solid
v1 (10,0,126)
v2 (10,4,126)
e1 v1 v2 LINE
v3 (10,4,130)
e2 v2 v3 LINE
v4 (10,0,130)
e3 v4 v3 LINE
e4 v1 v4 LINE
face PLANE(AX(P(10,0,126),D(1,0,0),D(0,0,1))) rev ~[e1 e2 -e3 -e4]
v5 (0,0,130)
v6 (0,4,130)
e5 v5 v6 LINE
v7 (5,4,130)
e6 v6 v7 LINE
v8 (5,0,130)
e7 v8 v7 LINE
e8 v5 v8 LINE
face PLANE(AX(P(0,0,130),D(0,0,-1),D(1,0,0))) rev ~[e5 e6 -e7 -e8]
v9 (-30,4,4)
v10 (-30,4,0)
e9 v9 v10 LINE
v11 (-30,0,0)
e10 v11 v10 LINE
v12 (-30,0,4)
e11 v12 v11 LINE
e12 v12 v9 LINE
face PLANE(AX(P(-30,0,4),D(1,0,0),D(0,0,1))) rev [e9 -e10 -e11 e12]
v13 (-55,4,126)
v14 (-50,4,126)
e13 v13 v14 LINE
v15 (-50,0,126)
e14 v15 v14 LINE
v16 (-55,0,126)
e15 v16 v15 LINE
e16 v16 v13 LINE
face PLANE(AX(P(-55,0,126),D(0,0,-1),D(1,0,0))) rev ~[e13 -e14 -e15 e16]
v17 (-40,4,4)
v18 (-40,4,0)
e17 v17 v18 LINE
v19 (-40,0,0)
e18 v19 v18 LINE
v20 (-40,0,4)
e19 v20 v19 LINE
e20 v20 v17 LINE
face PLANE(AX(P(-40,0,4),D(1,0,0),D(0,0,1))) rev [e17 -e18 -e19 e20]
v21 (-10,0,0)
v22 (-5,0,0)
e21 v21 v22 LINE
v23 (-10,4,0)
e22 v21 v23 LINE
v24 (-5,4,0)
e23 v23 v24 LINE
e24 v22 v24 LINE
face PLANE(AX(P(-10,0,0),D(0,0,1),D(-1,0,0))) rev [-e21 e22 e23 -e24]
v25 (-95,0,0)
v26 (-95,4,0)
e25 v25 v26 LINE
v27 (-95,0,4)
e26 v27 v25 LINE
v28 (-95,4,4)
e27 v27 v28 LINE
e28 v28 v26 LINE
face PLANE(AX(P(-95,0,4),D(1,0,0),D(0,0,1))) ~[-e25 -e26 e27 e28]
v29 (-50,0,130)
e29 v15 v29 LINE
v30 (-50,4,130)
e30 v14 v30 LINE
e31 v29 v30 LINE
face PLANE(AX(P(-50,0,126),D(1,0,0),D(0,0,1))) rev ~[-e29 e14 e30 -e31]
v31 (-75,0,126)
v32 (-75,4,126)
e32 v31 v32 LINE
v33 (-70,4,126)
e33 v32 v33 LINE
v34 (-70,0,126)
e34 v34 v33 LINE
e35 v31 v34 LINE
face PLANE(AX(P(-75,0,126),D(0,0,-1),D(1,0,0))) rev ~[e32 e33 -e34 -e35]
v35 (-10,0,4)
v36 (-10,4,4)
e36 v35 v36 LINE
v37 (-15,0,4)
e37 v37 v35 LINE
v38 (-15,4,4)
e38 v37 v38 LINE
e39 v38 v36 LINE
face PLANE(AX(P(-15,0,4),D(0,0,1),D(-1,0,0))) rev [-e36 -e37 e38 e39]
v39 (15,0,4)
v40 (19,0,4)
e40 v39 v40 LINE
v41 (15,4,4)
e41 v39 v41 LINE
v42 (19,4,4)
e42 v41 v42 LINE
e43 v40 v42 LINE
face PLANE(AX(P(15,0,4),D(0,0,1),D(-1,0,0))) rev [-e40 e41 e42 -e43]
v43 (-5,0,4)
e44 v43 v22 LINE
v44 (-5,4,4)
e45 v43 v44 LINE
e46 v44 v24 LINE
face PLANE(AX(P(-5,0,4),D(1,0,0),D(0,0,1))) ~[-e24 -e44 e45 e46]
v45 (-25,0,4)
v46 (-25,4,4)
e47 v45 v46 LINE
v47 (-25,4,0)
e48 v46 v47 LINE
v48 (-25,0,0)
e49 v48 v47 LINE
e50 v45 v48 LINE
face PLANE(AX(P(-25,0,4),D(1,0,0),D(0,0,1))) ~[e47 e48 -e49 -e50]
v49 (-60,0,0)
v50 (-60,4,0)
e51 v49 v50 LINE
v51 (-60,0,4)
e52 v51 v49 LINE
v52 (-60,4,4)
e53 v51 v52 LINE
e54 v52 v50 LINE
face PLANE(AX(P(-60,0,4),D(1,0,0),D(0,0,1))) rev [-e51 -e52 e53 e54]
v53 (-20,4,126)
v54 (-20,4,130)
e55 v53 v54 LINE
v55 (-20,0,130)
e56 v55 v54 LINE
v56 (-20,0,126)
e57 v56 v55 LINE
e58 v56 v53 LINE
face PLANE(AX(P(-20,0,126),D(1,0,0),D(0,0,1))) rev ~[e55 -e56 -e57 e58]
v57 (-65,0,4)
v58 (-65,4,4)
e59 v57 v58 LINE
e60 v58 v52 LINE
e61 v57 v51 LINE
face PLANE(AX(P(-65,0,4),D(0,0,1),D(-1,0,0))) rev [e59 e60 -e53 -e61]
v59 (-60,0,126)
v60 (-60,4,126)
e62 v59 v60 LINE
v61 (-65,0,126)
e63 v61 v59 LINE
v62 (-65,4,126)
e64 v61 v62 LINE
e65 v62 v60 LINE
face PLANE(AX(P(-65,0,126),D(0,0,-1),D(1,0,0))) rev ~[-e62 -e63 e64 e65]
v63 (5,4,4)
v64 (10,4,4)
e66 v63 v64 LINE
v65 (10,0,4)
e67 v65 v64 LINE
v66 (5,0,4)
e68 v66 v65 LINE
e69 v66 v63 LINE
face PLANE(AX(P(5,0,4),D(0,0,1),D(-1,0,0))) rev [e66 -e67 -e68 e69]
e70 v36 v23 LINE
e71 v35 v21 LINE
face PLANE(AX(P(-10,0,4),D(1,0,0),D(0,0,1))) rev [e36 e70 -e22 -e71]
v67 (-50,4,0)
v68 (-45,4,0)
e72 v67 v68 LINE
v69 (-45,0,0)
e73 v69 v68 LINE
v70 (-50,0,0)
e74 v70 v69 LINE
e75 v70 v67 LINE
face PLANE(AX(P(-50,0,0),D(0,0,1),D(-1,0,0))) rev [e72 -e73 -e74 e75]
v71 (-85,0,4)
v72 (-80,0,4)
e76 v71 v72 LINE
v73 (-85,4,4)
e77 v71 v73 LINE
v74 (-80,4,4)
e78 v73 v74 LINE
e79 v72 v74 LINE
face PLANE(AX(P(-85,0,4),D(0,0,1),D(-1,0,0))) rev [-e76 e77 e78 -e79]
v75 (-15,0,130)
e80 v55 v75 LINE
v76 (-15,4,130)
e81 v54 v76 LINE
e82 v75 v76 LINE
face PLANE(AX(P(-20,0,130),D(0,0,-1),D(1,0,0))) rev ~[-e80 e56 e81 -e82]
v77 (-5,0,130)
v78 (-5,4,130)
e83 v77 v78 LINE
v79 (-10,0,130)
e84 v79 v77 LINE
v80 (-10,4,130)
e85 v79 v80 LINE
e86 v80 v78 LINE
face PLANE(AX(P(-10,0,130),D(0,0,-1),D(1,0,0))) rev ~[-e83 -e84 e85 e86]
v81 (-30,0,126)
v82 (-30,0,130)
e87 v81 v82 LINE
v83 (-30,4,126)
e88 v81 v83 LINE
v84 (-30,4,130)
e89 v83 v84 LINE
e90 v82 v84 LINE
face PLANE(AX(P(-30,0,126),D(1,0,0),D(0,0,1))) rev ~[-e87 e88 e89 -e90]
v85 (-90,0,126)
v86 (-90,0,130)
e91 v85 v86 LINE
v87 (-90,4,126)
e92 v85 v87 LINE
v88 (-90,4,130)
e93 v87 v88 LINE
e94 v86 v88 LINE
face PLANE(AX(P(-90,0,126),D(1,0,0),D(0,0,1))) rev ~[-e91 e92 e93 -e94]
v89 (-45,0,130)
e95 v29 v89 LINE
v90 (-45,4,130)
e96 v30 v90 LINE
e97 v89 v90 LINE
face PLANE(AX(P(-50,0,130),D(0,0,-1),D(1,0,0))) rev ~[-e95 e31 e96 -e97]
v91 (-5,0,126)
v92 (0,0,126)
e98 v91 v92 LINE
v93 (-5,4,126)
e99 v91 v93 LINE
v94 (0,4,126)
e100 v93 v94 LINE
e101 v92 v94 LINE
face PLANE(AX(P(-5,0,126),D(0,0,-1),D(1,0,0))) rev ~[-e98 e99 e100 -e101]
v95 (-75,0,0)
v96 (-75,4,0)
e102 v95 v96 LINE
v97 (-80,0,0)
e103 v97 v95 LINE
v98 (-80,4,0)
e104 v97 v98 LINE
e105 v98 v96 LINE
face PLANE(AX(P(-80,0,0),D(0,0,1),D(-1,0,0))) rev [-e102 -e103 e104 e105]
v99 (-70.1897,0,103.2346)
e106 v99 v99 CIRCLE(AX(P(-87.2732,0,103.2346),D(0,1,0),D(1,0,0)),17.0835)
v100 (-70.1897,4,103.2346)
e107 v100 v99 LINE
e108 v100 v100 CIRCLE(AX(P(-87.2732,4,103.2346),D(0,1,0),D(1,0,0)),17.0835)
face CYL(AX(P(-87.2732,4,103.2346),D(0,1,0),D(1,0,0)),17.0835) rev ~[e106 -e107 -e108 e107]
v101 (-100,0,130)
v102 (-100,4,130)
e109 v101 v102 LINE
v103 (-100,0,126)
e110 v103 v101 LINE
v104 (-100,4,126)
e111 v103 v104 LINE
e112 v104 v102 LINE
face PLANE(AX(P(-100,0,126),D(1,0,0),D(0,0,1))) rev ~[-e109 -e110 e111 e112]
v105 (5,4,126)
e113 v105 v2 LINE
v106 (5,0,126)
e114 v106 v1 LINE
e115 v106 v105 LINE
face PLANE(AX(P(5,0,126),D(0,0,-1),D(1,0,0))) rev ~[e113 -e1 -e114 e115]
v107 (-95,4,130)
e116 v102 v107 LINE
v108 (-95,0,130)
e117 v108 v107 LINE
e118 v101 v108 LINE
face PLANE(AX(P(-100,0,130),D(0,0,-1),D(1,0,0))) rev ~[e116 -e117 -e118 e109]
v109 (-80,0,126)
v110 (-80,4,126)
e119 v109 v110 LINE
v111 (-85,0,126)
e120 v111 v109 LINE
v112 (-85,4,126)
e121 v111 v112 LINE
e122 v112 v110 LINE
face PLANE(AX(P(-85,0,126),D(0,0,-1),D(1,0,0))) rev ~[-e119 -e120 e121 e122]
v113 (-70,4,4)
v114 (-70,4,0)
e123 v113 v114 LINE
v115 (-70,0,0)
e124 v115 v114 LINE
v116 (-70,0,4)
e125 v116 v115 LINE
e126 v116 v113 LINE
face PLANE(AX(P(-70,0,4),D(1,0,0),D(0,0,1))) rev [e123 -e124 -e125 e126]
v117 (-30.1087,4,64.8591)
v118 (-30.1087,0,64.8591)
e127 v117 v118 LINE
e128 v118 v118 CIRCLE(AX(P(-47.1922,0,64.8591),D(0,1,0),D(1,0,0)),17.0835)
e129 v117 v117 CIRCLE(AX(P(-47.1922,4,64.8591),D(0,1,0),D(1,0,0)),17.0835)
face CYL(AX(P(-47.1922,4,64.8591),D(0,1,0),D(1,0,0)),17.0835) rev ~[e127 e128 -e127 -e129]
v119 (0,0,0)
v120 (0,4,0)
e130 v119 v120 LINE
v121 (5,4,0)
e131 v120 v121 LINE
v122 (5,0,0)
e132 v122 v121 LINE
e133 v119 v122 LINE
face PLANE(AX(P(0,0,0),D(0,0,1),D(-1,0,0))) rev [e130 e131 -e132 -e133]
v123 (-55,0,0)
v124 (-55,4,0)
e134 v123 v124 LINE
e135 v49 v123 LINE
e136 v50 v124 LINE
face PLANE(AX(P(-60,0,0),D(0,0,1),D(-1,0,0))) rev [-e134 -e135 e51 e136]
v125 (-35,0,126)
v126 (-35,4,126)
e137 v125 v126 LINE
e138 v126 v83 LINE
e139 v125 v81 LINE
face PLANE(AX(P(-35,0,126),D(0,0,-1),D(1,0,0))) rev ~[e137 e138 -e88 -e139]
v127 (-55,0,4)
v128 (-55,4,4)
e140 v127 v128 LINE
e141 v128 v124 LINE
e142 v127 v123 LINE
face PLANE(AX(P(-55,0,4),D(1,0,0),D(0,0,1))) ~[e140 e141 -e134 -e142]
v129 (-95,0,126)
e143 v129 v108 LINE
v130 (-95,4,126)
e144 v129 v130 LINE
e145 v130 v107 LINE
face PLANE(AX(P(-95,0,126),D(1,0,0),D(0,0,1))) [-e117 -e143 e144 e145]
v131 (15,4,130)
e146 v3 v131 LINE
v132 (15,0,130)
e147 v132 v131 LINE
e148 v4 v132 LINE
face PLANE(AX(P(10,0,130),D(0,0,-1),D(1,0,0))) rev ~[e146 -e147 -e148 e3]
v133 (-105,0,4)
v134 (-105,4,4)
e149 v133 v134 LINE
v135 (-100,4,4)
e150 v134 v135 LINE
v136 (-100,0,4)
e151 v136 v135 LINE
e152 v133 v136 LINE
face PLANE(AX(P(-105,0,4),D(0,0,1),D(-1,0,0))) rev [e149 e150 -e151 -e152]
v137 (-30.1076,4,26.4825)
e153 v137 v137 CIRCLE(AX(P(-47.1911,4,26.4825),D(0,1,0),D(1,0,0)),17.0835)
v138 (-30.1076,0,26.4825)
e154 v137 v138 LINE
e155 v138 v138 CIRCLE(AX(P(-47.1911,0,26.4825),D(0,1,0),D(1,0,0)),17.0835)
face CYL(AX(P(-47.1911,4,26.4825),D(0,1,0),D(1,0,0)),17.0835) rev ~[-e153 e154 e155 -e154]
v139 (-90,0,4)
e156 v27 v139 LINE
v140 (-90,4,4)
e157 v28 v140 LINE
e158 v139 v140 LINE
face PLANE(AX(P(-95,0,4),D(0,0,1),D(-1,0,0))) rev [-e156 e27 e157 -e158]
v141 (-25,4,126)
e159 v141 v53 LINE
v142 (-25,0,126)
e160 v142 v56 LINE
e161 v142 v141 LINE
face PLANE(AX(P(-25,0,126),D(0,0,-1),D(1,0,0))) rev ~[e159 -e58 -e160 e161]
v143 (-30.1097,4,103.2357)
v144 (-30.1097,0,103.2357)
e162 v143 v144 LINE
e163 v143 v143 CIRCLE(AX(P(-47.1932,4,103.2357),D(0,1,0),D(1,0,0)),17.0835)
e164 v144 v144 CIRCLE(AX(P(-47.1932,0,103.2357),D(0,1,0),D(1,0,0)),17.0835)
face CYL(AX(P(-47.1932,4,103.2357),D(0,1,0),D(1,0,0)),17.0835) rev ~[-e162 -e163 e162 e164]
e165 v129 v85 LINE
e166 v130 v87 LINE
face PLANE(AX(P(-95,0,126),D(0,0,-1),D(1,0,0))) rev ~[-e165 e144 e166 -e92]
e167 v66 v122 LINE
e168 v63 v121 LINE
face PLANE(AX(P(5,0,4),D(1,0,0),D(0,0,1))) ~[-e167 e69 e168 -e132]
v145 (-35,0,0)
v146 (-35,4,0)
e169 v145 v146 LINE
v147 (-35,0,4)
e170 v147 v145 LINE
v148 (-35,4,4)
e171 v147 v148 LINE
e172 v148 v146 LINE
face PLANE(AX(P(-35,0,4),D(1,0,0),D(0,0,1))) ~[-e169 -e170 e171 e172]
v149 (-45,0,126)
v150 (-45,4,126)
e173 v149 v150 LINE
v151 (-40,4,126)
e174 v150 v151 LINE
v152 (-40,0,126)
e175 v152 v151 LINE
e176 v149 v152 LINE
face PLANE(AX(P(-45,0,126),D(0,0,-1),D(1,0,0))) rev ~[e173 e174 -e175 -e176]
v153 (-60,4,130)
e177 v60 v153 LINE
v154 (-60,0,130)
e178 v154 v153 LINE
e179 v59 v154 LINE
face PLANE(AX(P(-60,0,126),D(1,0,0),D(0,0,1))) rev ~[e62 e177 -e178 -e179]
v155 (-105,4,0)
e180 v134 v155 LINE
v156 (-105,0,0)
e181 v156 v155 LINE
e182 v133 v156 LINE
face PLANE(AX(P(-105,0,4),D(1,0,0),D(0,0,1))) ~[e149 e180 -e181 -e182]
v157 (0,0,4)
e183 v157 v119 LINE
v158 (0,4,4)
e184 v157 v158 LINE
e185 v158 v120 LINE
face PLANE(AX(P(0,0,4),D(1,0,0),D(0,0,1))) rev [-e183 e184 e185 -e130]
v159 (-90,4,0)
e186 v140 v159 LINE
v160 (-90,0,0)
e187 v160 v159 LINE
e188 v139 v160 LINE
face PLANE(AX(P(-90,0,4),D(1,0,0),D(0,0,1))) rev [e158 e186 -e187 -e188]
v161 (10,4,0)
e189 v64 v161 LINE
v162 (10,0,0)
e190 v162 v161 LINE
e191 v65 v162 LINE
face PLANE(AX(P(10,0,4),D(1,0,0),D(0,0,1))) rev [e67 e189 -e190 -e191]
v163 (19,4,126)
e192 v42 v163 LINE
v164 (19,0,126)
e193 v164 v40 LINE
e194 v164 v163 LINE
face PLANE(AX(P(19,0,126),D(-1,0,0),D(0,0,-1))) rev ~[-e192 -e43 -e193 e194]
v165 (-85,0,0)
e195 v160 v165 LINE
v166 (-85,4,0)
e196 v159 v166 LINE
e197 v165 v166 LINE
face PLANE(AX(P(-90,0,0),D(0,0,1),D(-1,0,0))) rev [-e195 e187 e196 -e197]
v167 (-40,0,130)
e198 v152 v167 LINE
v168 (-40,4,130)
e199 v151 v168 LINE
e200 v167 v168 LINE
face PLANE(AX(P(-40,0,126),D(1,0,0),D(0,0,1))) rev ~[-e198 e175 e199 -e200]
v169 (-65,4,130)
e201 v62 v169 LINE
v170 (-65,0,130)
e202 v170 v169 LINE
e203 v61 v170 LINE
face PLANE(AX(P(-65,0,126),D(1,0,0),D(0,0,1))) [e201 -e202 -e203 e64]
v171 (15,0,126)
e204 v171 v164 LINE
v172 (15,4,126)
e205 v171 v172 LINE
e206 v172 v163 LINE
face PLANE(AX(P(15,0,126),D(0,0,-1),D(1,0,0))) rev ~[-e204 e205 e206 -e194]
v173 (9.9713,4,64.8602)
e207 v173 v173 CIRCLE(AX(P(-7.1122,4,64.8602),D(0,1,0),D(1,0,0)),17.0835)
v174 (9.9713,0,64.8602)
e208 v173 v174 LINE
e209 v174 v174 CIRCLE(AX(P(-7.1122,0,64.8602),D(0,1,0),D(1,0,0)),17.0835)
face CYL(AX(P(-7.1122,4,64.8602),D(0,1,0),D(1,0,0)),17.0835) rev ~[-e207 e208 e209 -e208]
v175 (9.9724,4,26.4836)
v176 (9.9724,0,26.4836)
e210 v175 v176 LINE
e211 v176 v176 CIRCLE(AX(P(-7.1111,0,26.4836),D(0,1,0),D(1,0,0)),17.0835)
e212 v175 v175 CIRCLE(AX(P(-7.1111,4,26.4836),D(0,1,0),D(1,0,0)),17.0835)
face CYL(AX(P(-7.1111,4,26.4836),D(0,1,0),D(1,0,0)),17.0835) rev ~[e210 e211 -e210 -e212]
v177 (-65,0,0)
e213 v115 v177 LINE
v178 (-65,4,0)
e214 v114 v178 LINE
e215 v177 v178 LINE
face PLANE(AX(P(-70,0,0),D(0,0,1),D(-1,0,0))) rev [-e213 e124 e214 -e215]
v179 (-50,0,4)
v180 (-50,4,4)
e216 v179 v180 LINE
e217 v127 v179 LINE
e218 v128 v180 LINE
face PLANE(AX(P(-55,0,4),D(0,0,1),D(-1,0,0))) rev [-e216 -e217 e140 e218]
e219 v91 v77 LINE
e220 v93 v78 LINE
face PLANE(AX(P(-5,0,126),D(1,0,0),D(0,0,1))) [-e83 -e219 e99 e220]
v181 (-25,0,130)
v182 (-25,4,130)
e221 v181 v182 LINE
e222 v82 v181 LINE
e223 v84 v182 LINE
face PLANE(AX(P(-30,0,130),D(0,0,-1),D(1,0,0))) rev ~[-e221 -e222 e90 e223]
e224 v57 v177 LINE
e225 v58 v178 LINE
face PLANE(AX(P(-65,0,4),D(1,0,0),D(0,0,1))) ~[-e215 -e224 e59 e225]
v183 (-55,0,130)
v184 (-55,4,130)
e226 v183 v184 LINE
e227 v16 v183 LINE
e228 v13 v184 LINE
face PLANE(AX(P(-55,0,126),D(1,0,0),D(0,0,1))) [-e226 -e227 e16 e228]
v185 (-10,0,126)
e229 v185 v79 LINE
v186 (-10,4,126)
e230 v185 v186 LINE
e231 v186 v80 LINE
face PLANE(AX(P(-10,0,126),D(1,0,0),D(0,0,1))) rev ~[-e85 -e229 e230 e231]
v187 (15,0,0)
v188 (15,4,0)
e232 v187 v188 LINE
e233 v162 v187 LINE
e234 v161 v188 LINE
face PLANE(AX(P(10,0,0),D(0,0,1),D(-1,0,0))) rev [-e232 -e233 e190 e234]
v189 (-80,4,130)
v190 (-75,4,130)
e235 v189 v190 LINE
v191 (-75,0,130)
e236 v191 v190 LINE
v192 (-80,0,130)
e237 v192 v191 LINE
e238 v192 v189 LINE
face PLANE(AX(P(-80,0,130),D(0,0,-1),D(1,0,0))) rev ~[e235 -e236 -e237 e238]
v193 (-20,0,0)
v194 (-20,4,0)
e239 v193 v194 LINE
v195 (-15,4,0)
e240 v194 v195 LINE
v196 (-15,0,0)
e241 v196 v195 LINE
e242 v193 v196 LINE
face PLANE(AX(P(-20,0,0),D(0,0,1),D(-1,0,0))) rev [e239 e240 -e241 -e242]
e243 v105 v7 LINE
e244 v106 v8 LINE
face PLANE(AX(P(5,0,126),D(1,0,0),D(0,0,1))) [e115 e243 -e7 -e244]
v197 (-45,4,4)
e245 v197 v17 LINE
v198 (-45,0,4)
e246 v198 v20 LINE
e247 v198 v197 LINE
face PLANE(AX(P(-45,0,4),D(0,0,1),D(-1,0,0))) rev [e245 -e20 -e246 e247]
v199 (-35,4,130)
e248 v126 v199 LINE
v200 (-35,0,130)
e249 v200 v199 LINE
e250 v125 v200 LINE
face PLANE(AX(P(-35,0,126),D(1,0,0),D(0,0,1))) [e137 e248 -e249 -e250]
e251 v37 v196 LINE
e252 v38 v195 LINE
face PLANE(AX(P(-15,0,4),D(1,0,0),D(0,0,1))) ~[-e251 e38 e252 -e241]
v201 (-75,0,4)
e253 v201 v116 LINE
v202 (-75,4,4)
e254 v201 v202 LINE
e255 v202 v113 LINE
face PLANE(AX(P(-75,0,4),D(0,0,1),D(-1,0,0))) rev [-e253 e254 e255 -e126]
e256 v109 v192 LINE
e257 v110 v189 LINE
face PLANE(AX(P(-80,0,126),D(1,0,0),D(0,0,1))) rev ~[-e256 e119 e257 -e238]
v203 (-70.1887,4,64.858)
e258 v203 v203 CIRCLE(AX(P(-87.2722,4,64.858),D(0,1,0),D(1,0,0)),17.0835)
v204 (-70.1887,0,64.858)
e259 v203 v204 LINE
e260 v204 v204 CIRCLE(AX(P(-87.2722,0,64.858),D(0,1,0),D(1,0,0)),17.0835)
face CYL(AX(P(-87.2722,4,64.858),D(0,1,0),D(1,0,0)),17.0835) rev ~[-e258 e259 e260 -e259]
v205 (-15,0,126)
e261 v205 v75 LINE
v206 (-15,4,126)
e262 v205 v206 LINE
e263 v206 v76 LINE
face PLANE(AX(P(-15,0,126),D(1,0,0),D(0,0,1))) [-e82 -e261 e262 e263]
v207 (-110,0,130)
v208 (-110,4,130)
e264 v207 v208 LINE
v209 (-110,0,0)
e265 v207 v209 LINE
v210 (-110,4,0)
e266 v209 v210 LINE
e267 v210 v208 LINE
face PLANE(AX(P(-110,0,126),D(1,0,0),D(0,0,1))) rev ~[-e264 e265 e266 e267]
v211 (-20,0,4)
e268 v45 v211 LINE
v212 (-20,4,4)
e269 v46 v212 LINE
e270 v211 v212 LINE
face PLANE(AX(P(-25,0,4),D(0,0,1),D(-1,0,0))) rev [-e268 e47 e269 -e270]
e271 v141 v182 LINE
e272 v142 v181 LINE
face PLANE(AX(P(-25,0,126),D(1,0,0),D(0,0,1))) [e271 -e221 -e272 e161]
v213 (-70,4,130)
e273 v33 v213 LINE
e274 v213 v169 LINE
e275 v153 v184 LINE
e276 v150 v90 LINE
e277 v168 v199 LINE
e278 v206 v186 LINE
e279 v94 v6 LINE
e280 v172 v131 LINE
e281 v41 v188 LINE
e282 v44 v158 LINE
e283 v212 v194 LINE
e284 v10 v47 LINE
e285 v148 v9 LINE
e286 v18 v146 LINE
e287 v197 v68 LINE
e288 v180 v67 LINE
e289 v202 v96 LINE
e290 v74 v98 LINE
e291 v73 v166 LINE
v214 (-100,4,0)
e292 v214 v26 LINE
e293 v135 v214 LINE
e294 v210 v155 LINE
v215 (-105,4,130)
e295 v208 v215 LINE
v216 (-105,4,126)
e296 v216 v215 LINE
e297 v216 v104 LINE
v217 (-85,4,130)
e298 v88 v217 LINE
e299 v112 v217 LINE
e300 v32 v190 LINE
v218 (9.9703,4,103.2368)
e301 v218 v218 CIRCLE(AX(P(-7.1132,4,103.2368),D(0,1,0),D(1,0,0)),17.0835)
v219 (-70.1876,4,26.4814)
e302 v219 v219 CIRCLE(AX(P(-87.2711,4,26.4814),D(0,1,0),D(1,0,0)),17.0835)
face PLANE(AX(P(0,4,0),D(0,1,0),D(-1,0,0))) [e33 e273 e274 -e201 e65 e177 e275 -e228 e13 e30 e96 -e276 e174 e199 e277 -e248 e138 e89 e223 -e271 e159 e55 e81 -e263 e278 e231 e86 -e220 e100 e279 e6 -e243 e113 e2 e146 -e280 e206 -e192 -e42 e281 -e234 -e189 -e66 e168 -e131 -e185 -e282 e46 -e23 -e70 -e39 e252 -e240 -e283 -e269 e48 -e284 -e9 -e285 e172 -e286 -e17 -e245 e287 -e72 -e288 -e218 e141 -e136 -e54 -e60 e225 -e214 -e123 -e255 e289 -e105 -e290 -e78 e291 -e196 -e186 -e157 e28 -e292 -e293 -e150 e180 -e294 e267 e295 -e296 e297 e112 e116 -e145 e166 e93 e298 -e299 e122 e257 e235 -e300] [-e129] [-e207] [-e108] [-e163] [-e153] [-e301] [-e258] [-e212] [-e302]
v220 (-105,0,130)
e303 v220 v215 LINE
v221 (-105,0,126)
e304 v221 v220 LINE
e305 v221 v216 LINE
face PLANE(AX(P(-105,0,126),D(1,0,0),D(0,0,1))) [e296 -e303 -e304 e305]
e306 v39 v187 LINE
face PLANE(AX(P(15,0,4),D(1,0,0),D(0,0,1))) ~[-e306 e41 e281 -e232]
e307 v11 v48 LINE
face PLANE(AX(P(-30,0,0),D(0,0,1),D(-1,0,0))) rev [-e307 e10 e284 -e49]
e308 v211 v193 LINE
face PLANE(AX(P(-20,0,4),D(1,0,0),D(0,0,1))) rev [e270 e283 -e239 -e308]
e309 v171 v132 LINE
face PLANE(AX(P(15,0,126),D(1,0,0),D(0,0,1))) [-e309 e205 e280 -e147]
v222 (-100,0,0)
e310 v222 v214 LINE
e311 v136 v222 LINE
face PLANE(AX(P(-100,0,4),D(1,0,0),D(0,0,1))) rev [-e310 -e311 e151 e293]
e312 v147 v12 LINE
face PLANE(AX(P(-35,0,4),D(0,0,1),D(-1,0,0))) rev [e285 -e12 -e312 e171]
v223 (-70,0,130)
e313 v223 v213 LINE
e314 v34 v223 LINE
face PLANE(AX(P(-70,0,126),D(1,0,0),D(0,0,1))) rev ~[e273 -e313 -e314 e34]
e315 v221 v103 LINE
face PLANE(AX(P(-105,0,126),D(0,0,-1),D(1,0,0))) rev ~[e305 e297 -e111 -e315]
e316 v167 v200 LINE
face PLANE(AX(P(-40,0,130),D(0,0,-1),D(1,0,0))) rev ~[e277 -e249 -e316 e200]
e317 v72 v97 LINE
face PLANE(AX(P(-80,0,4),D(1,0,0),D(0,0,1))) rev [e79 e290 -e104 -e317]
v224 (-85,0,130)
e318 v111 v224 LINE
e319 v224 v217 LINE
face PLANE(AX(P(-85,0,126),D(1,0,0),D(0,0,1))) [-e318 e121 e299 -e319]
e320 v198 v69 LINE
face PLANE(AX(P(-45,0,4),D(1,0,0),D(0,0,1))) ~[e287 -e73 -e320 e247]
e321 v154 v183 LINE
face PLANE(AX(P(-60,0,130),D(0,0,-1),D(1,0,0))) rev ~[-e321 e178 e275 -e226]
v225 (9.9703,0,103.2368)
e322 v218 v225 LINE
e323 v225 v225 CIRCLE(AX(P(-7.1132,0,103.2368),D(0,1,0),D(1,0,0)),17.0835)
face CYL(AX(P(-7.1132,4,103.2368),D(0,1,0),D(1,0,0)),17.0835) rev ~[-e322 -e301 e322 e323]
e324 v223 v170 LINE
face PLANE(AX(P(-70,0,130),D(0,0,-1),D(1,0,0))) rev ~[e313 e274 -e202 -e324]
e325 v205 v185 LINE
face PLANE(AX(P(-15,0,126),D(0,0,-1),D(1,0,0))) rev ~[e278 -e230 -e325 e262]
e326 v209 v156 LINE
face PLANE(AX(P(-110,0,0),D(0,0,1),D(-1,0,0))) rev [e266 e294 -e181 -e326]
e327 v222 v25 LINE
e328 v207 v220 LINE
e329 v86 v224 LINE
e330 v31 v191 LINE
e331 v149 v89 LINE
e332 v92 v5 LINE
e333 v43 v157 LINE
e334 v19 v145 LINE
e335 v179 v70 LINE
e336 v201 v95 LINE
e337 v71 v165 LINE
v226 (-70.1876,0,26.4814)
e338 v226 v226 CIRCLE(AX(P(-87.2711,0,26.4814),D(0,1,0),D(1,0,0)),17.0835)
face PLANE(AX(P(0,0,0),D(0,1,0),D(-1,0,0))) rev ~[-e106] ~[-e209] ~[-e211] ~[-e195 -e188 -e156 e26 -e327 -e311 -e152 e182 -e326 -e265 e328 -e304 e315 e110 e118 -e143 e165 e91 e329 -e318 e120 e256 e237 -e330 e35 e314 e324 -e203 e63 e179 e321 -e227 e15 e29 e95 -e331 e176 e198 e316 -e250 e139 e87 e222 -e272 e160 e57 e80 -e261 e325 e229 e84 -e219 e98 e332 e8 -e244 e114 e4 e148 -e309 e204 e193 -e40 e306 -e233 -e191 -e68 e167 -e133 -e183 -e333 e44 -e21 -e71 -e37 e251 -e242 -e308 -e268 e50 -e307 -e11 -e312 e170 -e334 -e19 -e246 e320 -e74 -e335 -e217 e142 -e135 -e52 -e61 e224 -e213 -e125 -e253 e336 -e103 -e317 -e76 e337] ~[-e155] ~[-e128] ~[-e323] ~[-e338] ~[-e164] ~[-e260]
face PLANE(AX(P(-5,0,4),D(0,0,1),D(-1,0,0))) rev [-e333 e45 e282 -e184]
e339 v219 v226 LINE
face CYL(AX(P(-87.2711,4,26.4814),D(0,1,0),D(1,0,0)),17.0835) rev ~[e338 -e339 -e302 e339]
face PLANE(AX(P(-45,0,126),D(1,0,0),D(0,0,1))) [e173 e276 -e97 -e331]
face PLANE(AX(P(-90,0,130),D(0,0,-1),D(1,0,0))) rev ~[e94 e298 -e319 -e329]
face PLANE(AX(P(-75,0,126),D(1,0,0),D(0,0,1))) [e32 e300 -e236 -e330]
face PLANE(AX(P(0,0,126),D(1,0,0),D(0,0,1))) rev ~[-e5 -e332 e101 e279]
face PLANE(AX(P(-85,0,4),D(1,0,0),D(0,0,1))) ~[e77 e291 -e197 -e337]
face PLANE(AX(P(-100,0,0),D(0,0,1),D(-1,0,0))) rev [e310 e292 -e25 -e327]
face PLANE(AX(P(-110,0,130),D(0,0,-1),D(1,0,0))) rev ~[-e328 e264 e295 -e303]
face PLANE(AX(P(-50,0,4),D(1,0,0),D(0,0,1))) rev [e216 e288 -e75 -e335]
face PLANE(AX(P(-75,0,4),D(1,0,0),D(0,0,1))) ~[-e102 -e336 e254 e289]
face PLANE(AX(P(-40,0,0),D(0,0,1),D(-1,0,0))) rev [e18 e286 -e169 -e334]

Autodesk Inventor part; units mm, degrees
ref_plane "YZ Plane" through (0, 0, 0) normal (1, 0, 0) x (0, 1, 0)
ref_plane "XZ Plane" through (0, 0, 0) normal (0, 1, 0) x (-1, 0, 0)
ref_plane "XY Plane" through (0, 0, 0) normal (0, 0, 1) x (1, 0, 0)
sketch "Sketch1" plane through (0, 0, 0) normal (0, 1, 0) x (-1, 0, 0)
  line L0 (-19, 126) -> (-19, 4)
  line L1 (-15, 126) -> (-19, 126)
  line L2 (-15, 126) -> (-15, 130)
  line L3 (-10, 130) -> (-15, 130)
  line L4 (-10, 126) -> (-10, 130)
  line L5 (-5, 126) -> (-10, 126)
  line L6 (-5, 126) -> (-5, 130)
  line L7 (0, 130) -> (-5, 130)
  line L8 (0, 126) -> (0, 130)
  line L9 (5, 126) -> (0, 126)
  line L10 (5, 126) -> (5, 130)
  line L11 (10, 130) -> (5, 130)
  line L12 (10, 126) -> (10, 130)
  line L13 (15, 126) -> (10, 126)
  line L14 (15, 126) -> (15, 130)
  line L15 (20, 130) -> (15, 130)
  line L16 (20, 126) -> (20, 130)
  line L17 (25, 126) -> (20, 126)
  line L18 (25, 126) -> (25, 130)
  line L19 (30, 130) -> (25, 130)
  line L20 (30, 126) -> (30, 130)
  line L21 (35, 126) -> (30, 126)
  line L22 (35, 126) -> (35, 130)
  line L23 (40, 130) -> (35, 130)
  line L24 (40, 126) -> (40, 130)
  line L25 (45, 126) -> (40, 126)
  line L26 (45, 126) -> (45, 130)
  line L27 (50, 130) -> (45, 130)
  line L28 (50, 126) -> (50, 130)
  line L29 (55, 126) -> (50, 126)
  line L30 (55, 126) -> (55, 130)
  line L31 (60, 130) -> (55, 130)
  line L32 (60, 126) -> (60, 130)
  line L33 (65, 126) -> (60, 126)
  line L34 (65, 126) -> (65, 130)
  line L35 (70, 130) -> (65, 130)
  line L36 (70, 126) -> (70, 130)
  line L37 (75, 126) -> (70, 126)
  line L38 (75, 126) -> (75, 130)
  line L39 (80, 130) -> (75, 130)
  line L40 (80, 126) -> (80, 130)
  line L41 (85, 126) -> (80, 126)
  line L42 (85, 126) -> (85, 130)
  line L43 (90, 130) -> (85, 130)
  line L44 (90, 126) -> (90, 130)
  line L45 (95, 126) -> (90, 126)
  line L46 (95, 126) -> (95, 130)
  line L47 (100, 130) -> (95, 130)
  line L48 (100, 126) -> (100, 130)
  line L49 (105, 126) -> (100, 126)
  line L50 (105, 126) -> (105, 130)
  line L51 (110, 130) -> (105, 130)
  line L52 (110, 126) -> (110, 130)
  line L53 (110, 65) -> (110, 126)
  line L54 (110, 65) -> (-15, 65)
  line L55 (110, 65) -> (235, 65) construction
  line L56 (-15, 65) -> (-19, 65)
  point P0 (0, 0)
  dimension "d0" = 180
extrude "Extrusion1" add sketch "Sketch1" along normal blind 4
mirror "Mirror1" about plane through (19, 0, 65) normal (0, 0, -1) of "Extrusion1"
sketch "Sketch2" plane through (0, 4, 0) normal (0, 1, 0) x (1, 0, 0)
  circle A0 centre (-87.2711, -26.4814) radius 17.0835
  circle A1 centre (-7.1111, -26.4836) radius 17.0835
  circle A2 centre (-7.1122, -64.8602) radius 17.0835
  circle A3 centre (-7.1132, -103.2368) radius 17.0835
  circle A4 centre (-87.2732, -103.2346) radius 17.0835
  circle A5 centre (-87.2722, -64.858) radius 17.0835
  circle A6 centre (-47.1922, -64.8591) radius 17.0835
  circle A7 centre (-47.1932, -103.2357) radius 17.0835
  circle A8 centre (-47.1911, -26.4825) radius 17.0835
  line L0 (18.7695, -7.9481) -> (18.7695, -2.8242)
  line L1 (18.7695, -2.8242) -> (11.7661, -2.824)
  line L2 (11.7661, -2.824) -> (11.7661, 1.0564)
  line L3 (11.7661, 1.0564) -> (6.7661, 1.0564)
  line L4 (6.7661, 1.0564) -> (6.7661, -2.8239)
  line L5 (6.7661, -2.8239) -> (1.7661, -2.8238)
  line L6 (1.7661, -2.8238) -> (1.7661, 1.0564)
  line L7 (1.7661, 1.0564) -> (-3.2339, 1.0564)
  line L8 (-3.2339, 1.0564) -> (-3.2339, -2.8236)
  line L9 (-3.2339, -2.8236) -> (-8.2339, -2.8235)
  line L10 (-8.2339, -2.8235) -> (-8.2339, 1.0564)
  line L11 (-8.2339, 1.0564) -> (-13.2339, 1.0564)
  line L12 (-13.2339, 1.0564) -> (-13.2339, -2.8234)
  line L13 (-13.2339, -2.8234) -> (-18.2339, -2.8232)
  line L14 (-18.2339, -2.8232) -> (-18.2339, 1.0564)
  line L15 (-18.2339, 1.0564) -> (-23.2339, 1.0564)
  line L16 (-23.2339, 1.0564) -> (-23.2339, -2.8231)
  line L17 (-23.2339, -2.8231) -> (-28.2339, -2.8229)
  line L18 (-28.2339, -2.8229) -> (-28.2339, 1.0564)
  line L19 (-28.2339, 1.0564) -> (-33.2339, 1.0564)
  line L20 (-33.2339, 1.0564) -> (-33.2339, -2.8228)
  line L21 (-33.2339, -2.8228) -> (-38.2339, -2.8227)
  line L22 (-38.2339, -2.8227) -> (-38.2339, 1.0564)
  line L23 (-38.2339, 1.0564) -> (-43.2339, 1.0564)
  line L24 (-43.2339, 1.0564) -> (-43.2339, -2.8225)
  line L25 (-43.2339, -2.8225) -> (-48.2339, -2.8224)
  line L26 (-48.2339, -2.8224) -> (-48.2339, 1.0564)
  line L27 (-48.2339, 1.0564) -> (-53.2339, 1.0564)
  line L28 (-53.2339, 1.0564) -> (-53.2339, -2.8223)
  line L29 (-53.2339, -2.8223) -> (-58.2339, -2.8221)
  line L30 (-58.2339, -2.8221) -> (-58.2339, 1.0564)
  line L31 (-58.2339, 1.0564) -> (-63.2339, 1.0564)
  line L32 (-63.2339, 1.0564) -> (-63.2339, -2.822)
  line L33 (-63.2339, -2.822) -> (-68.2339, -2.8219)
  line L34 (-68.2339, -2.8219) -> (-68.2339, 1.0564)
  line L35 (-68.2339, 1.0564) -> (-73.2339, 1.0564)
  line L36 (-73.2339, 1.0564) -> (-73.2339, -2.8217)
  line L37 (-73.2339, -2.8217) -> (-78.2339, -2.8216)
  line L38 (-78.2339, -2.8216) -> (-78.2339, 1.0564)
  line L39 (-78.2339, 1.0564) -> (-83.2339, 1.0564)
  line L40 (-83.2339, 1.0564) -> (-83.2339, -2.8214)
  line L41 (-83.2339, -2.8214) -> (-88.2339, -2.8213)
  line L42 (-88.2339, -2.8213) -> (-88.2339, 1.0564)
  line L43 (-88.2339, 1.0564) -> (-93.2339, 1.0564)
  line L44 (-93.2339, 1.0564) -> (-93.2339, -2.8212)
  line L45 (-93.2339, -2.8212) -> (-98.2339, -2.821)
  line L46 (-98.2339, -2.821) -> (-98.2339, 1.0564)
  line L47 (-98.2339, 1.0564) -> (-103.2339, 1.0564)
  line L48 (-103.2339, 1.0564) -> (-103.2339, -2.8209)
  line L49 (-103.2339, -2.8209) -> (-108.2339, -2.8208)
  line L50 (-108.2339, -2.8208) -> (-108.2339, 1.0564)
  line L51 (-108.2339, 1.0564) -> (-113.2339, 1.0564)
  line L52 (-111.2338, -127.0687) -> (-106.2338, -127.0688)
  line L53 (-106.2338, -127.0688) -> (-106.2338, -130.9481)
  line L54 (-106.2338, -130.9481) -> (-101.2338, -130.9481)
  line L55 (-101.2338, -130.9481) -> (-101.2338, -127.069)
  line L56 (-101.2338, -127.069) -> (-96.2338, -127.0691)
  line L57 (-96.2338, -127.0691) -> (-96.2338, -130.9481)
  line L58 (-96.2338, -130.9481) -> (-91.2338, -130.9481)
  line L59 (-91.2338, -130.9481) -> (-91.2338, -127.0692)
  line L60 (-91.2338, -127.0692) -> (-86.2338, -127.0694)
  line L61 (-86.2338, -127.0694) -> (-86.2338, -130.9481)
  line L62 (-86.2338, -130.9481) -> (-81.2338, -130.9481)
  line L63 (-81.2338, -130.9481) -> (-81.2338, -127.0695)
  line L64 (-81.2338, -127.0695) -> (-76.2338, -127.0696)
  line L65 (-76.2338, -127.0696) -> (-76.2338, -130.9481)
  line L66 (-76.2338, -130.9481) -> (-71.2338, -130.9481)
  line L67 (-71.2338, -130.9481) -> (-71.2338, -127.0698)
  line L68 (-71.2338, -127.0698) -> (-66.2338, -127.0699)
  line L69 (-66.2338, -127.0699) -> (-66.2338, -130.9481)
  line L70 (-66.2338, -130.9481) -> (-61.2338, -130.9481)
  line L71 (-61.2338, -130.9481) -> (-61.2338, -127.07)
  line L72 (-61.2338, -127.07) -> (-56.2338, -127.0702)
  line L73 (-56.2338, -127.0702) -> (-56.2338, -130.9481)
  line L74 (-56.2338, -130.9481) -> (-51.2338, -130.9481)
  line L75 (-51.2338, -130.9481) -> (-51.2338, -127.0703)
  line L76 (-51.2338, -127.0703) -> (-46.2338, -127.0705)
  line L77 (-46.2338, -127.0705) -> (-46.2338, -130.9481)
  line L78 (-46.2338, -130.9481) -> (-41.2338, -130.9481)
  line L79 (-41.2338, -130.9481) -> (-41.2338, -127.0706)
  line L80 (-41.2338, -127.0706) -> (-36.2338, -127.0707)
  line L81 (-36.2338, -127.0707) -> (-36.2338, -130.9481)
  line L82 (-36.2338, -130.9481) -> (-31.2338, -130.9481)
  line L83 (-31.2338, -130.9481) -> (-31.2338, -127.0709)
  line L84 (-31.2338, -127.0709) -> (-26.2338, -127.071)
  line L85 (-26.2338, -127.071) -> (-26.2338, -130.9481)
  line L86 (-26.2338, -130.9481) -> (-21.2338, -130.9481)
  line L87 (-21.2338, -130.9481) -> (-21.2338, -127.0711)
  line L88 (-21.2338, -127.0711) -> (-16.2338, -127.0713)
  line L89 (-16.2338, -127.0713) -> (-16.2338, -130.9481)
  line L90 (-16.2338, -130.9481) -> (-11.2338, -130.9481)
  line L91 (-11.2338, -130.9481) -> (-11.2338, -127.0714)
  line L92 (-11.2338, -127.0714) -> (-6.2338, -127.0715)
  line L93 (-6.2338, -127.0715) -> (-6.2338, -130.9481)
  line L94 (-6.2338, -130.9481) -> (-1.2338, -130.9481)
  line L95 (-1.2338, -130.9481) -> (-1.2338, -127.0717)
  line L96 (-1.2338, -127.0717) -> (3.7662, -127.0718)
  line L97 (3.7662, -127.0718) -> (3.7662, -130.9481)
  line L98 (3.7662, -130.9481) -> (8.7662, -130.9481)
  line L99 (8.7662, -130.9481) -> (8.7662, -127.072)
  line L100 (8.7662, -127.072) -> (13.7662, -127.0721)
  line L101 (13.7662, -127.0721) -> (13.7662, -130.9481)
  line L102 (13.7662, -130.9481) -> (18.7662, -130.9481)
  line L103 (18.7662, -130.9481) -> (18.7662, -122.9481)
  line L104 (18.7662, -122.9481) -> (14.9302, -122.9481)
  line L105 (14.9302, -122.9481) -> (14.9304, -117.9481)
  line L106 (14.9304, -117.9481) -> (18.7665, -117.9481)
  line L107 (18.7665, -117.9481) -> (18.7665, -112.9481)
  line L108 (18.7665, -112.9481) -> (14.9305, -112.9481)
  line L109 (14.9305, -112.9481) -> (14.9306, -107.9481)
  line L110 (14.9306, -107.9481) -> (18.7668, -107.9481)
  line L111 (18.7668, -107.9481) -> (18.7668, -102.9481)
  line L112 (18.7668, -102.9481) -> (14.9308, -102.9481)
  line L113 (14.9308, -102.9481) -> (14.9309, -97.9481)
  line L114 (14.9309, -97.9481) -> (18.767, -97.9481)
  line L115 (18.767, -97.9481) -> (18.767, -92.9481)
  line L116 (18.767, -92.9481) -> (14.931, -92.9481)
  line L117 (14.931, -92.9481) -> (14.9312, -87.9481)
  line L118 (14.9312, -87.9481) -> (18.7673, -87.9481)
  line L119 (18.7673, -87.9481) -> (18.7673, -82.9481)
  line L120 (18.7673, -82.9481) -> (14.9313, -82.9481)
  line L121 (14.9313, -82.9481) -> (14.9314, -77.9481)
  line L122 (14.9314, -77.9481) -> (18.7676, -77.9481)
  line L123 (18.7676, -77.9481) -> (18.7676, -72.9481)
  line L124 (18.7676, -72.9481) -> (14.9316, -72.9481)
  line L125 (14.9316, -72.9481) -> (14.9317, -67.9481)
  line L126 (14.9317, -67.9481) -> (18.7679, -67.9481)
  line L127 (18.7679, -67.9481) -> (18.7679, -62.9481)
  line L128 (18.7679, -62.9481) -> (14.9319, -62.9481)
  line L129 (14.9319, -62.9481) -> (14.932, -57.9481)
  line L130 (14.932, -57.9481) -> (18.7681, -57.9481)
  line L131 (18.7681, -57.9481) -> (18.7681, -52.9481)
  line L132 (18.7681, -52.9481) -> (14.9321, -52.9481)
  line L133 (14.9321, -52.9481) -> (14.9323, -47.9481)
  line L134 (14.9323, -47.9481) -> (18.7684, -47.9481)
  line L135 (18.7684, -47.9481) -> (18.7684, -42.9481)
  line L136 (18.7684, -42.9481) -> (14.9324, -42.9481)
  line L137 (14.9324, -42.9481) -> (14.9325, -37.9481)
  line L138 (14.9325, -37.9481) -> (18.7687, -37.9481)
  line L139 (18.7687, -37.9481) -> (18.7687, -32.9481)
  line L140 (18.7687, -32.9481) -> (14.9327, -32.9481)
  line L141 (14.9327, -32.9481) -> (14.9328, -27.9481)
  line L142 (14.9328, -27.9481) -> (18.7689, -27.9481)
  line L143 (18.7689, -27.9481) -> (18.7689, -22.9481)
  line L144 (18.7689, -22.9481) -> (14.9329, -22.9481)
  line L145 (14.9329, -22.9481) -> (14.9331, -17.9481)
  line L146 (14.9331, -17.9481) -> (18.7692, -17.9481)
  line L147 (18.7692, -17.9481) -> (18.7692, -12.9481)
  line L148 (18.7692, -12.9481) -> (14.9332, -12.9481)
  line L149 (14.9332, -12.9481) -> (14.9334, -7.9481)
  line L150 (14.9334, -7.9481) -> (18.7695, -7.9481)
  point P0 (0, 0)
  point P1 (-47.2322, -64.8593)
  dimension "d3" = 132.0045
  dimension "d5" = 0
  dimension "d6" = 3.8804
  dimension "d7" = 47.0034
  dimension "d11" = 8
extrude "Extrusion2" cut sketch "Sketch2" against normal blind 6.5
sketch "Sketch3" plane through (0, 4, 0) normal (0, 1, 0) x (1, 0, 0)
  circle A0 centre (-47.1932, -103.2357) radius 17.0835 projected
  circle A1 centre (-87.2711, -26.4814) radius 17.0835 projected
  circle A2 centre (-47.1911, -26.4825) radius 17.0835 projected
  circle A3 centre (-47.1922, -64.8591) radius 17.0835 projected
  circle A4 centre (-7.1122, -64.8602) radius 17.0835 projected
  circle A5 centre (-87.2722, -64.858) radius 17.0835 projected
  circle A6 centre (-7.1111, -26.4836) radius 17.0835 projected
  circle A7 centre (-87.2732, -103.2346) radius 17.0835 projected
  circle A8 centre (-7.1132, -103.2368) radius 17.0835 projected
  line L0 (19, -126) -> (19, -4) projected
  line L1 (15, -4) -> (19, -4) projected
  line L2 (15, 0) -> (15, -4) projected
  line L3 (10, 0) -> (15, 0) projected
  line L4 (10, -4) -> (10, 0) projected
  line L5 (5, -4) -> (10, -4) projected
  line L6 (5, 0) -> (5, -4) projected
  line L7 (0, 0) -> (5, 0) projected
  line L8 (0, -4) -> (0, 0) projected
  line L9 (-5, -4) -> (0, -4) projected
  line L10 (-5, 0) -> (-5, -4) projected
  line L11 (-10, 0) -> (-5, 0) projected
  line L12 (-10, -4) -> (-10, 0) projected
  line L13 (-15, -4) -> (-10, -4) projected
  line L14 (-15, 0) -> (-15, -4) projected
  line L15 (-20, 0) -> (-15, 0) projected
  line L16 (-20, -4) -> (-20, 0) projected
  line L17 (-25, -4) -> (-20, -4) projected
  line L18 (-25, 0) -> (-25, -4) projected
  line L19 (-30, 0) -> (-25, 0) projected
  line L20 (-30, -4) -> (-30, 0) projected
  line L21 (-35, -4) -> (-30, -4) projected
  line L22 (-35, 0) -> (-35, -4) projected
  line L23 (-40, 0) -> (-35, 0) projected
  line L24 (-40, -4) -> (-40, 0) projected
  line L25 (-45, -4) -> (-40, -4) projected
  line L26 (-45, 0) -> (-45, -4) projected
  line L27 (-50, 0) -> (-45, 0) projected
  line L28 (-50, -4) -> (-50, 0) projected
  line L29 (-55, -4) -> (-50, -4) projected
  line L30 (-55, 0) -> (-55, -4) projected
  line L31 (-60, 0) -> (-55, 0) projected
  line L32 (-60, -4) -> (-60, 0) projected
  line L33 (-65, -4) -> (-60, -4) projected
  line L34 (-65, 0) -> (-65, -4) projected
  line L35 (-70, 0) -> (-65, 0) projected
  line L36 (-70, -4) -> (-70, 0) projected
  line L37 (-75, -4) -> (-70, -4) projected
  line L38 (-75, 0) -> (-75, -4) projected
  line L39 (-80, 0) -> (-75, 0) projected
  line L40 (-80, -4) -> (-80, 0) projected
  line L41 (-85, -4) -> (-80, -4) projected
  line L42 (-85, 0) -> (-85, -4) projected
  line L43 (-90, 0) -> (-85, 0) projected
  line L44 (-90, -4) -> (-90, 0) projected
  line L45 (-95, -4) -> (-90, -4) projected
  line L46 (-95, 0) -> (-95, -4) projected
  line L47 (-100, 0) -> (-95, 0) projected
  line L48 (-100, -4) -> (-100, 0) projected
  line L49 (-105, -4) -> (-100, -4) projected
  line L50 (-105, 0) -> (-105, -4) projected
  line L51 (-110, 0) -> (-105, 0) projected
  line L52 (-110, -130) -> (-110, 0) projected
  line L53 (-110, -130) -> (-105, -130) projected
  line L54 (-105, -130) -> (-105, -126) projected
  line L55 (-105, -126) -> (-100, -126) projected
  line L56 (-100, -126) -> (-100, -130) projected
  line L57 (-100, -130) -> (-95, -130) projected
  line L58 (-95, -130) -> (-95, -126) projected
  line L59 (-95, -126) -> (-90, -126) projected
  line L60 (-90, -126) -> (-90, -130) projected
  line L61 (-90, -130) -> (-85, -130) projected
  line L62 (-85, -130) -> (-85, -126) projected
  line L63 (-85, -126) -> (-80, -126) projected
  line L64 (-80, -126) -> (-80, -130) projected
  line L65 (-80, -130) -> (-75, -130) projected
  line L66 (-75, -130) -> (-75, -126) projected
  line L67 (-75, -126) -> (-70, -126) projected
  line L68 (-70, -126) -> (-70, -130) projected
  line L69 (-70, -130) -> (-65, -130) projected
  line L70 (-65, -130) -> (-65, -126) projected
  line L71 (-65, -126) -> (-60, -126) projected
  line L72 (-60, -126) -> (-60, -130) projected
  line L73 (-60, -130) -> (-55, -130) projected
  line L74 (-55, -130) -> (-55, -126) projected
  line L75 (-55, -126) -> (-50, -126) projected
  line L76 (-50, -126) -> (-50, -130) projected
  line L77 (-50, -130) -> (-45, -130) projected
  line L78 (-45, -130) -> (-45, -126) projected
  line L79 (-45, -126) -> (-40, -126) projected
  line L80 (-40, -126) -> (-40, -130) projected
  line L81 (-40, -130) -> (-35, -130) projected
  line L82 (-35, -130) -> (-35, -126) projected
  line L83 (-35, -126) -> (-30, -126) projected
  line L84 (-30, -126) -> (-30, -130) projected
  line L85 (-30, -130) -> (-25, -130) projected
  line L86 (-25, -130) -> (-25, -126) projected
  line L87 (-25, -126) -> (-20, -126) projected
  line L88 (-20, -126) -> (-20, -130) projected
  line L89 (-20, -130) -> (-15, -130) projected
  line L90 (-15, -130) -> (-15, -126) projected
  line L91 (-15, -126) -> (-10, -126) projected
  line L92 (-10, -126) -> (-10, -130) projected
  line L93 (-10, -130) -> (-5, -130) projected
  line L94 (-5, -130) -> (-5, -126) projected
  line L95 (-5, -126) -> (0, -126) projected
  line L96 (0, -126) -> (0, -130) projected
  line L97 (0, -130) -> (5, -130) projected
  line L98 (5, -130) -> (5, -126) projected
  line L99 (5, -126) -> (10, -126) projected
  line L100 (10, -126) -> (10, -130) projected
  line L101 (10, -130) -> (15, -130) projected
  line L102 (15, -130) -> (15, -126) projected
  line L103 (15, -126) -> (19, -126) projected
  point P0 (0, 0)
properties part number "Top cover with groves"
